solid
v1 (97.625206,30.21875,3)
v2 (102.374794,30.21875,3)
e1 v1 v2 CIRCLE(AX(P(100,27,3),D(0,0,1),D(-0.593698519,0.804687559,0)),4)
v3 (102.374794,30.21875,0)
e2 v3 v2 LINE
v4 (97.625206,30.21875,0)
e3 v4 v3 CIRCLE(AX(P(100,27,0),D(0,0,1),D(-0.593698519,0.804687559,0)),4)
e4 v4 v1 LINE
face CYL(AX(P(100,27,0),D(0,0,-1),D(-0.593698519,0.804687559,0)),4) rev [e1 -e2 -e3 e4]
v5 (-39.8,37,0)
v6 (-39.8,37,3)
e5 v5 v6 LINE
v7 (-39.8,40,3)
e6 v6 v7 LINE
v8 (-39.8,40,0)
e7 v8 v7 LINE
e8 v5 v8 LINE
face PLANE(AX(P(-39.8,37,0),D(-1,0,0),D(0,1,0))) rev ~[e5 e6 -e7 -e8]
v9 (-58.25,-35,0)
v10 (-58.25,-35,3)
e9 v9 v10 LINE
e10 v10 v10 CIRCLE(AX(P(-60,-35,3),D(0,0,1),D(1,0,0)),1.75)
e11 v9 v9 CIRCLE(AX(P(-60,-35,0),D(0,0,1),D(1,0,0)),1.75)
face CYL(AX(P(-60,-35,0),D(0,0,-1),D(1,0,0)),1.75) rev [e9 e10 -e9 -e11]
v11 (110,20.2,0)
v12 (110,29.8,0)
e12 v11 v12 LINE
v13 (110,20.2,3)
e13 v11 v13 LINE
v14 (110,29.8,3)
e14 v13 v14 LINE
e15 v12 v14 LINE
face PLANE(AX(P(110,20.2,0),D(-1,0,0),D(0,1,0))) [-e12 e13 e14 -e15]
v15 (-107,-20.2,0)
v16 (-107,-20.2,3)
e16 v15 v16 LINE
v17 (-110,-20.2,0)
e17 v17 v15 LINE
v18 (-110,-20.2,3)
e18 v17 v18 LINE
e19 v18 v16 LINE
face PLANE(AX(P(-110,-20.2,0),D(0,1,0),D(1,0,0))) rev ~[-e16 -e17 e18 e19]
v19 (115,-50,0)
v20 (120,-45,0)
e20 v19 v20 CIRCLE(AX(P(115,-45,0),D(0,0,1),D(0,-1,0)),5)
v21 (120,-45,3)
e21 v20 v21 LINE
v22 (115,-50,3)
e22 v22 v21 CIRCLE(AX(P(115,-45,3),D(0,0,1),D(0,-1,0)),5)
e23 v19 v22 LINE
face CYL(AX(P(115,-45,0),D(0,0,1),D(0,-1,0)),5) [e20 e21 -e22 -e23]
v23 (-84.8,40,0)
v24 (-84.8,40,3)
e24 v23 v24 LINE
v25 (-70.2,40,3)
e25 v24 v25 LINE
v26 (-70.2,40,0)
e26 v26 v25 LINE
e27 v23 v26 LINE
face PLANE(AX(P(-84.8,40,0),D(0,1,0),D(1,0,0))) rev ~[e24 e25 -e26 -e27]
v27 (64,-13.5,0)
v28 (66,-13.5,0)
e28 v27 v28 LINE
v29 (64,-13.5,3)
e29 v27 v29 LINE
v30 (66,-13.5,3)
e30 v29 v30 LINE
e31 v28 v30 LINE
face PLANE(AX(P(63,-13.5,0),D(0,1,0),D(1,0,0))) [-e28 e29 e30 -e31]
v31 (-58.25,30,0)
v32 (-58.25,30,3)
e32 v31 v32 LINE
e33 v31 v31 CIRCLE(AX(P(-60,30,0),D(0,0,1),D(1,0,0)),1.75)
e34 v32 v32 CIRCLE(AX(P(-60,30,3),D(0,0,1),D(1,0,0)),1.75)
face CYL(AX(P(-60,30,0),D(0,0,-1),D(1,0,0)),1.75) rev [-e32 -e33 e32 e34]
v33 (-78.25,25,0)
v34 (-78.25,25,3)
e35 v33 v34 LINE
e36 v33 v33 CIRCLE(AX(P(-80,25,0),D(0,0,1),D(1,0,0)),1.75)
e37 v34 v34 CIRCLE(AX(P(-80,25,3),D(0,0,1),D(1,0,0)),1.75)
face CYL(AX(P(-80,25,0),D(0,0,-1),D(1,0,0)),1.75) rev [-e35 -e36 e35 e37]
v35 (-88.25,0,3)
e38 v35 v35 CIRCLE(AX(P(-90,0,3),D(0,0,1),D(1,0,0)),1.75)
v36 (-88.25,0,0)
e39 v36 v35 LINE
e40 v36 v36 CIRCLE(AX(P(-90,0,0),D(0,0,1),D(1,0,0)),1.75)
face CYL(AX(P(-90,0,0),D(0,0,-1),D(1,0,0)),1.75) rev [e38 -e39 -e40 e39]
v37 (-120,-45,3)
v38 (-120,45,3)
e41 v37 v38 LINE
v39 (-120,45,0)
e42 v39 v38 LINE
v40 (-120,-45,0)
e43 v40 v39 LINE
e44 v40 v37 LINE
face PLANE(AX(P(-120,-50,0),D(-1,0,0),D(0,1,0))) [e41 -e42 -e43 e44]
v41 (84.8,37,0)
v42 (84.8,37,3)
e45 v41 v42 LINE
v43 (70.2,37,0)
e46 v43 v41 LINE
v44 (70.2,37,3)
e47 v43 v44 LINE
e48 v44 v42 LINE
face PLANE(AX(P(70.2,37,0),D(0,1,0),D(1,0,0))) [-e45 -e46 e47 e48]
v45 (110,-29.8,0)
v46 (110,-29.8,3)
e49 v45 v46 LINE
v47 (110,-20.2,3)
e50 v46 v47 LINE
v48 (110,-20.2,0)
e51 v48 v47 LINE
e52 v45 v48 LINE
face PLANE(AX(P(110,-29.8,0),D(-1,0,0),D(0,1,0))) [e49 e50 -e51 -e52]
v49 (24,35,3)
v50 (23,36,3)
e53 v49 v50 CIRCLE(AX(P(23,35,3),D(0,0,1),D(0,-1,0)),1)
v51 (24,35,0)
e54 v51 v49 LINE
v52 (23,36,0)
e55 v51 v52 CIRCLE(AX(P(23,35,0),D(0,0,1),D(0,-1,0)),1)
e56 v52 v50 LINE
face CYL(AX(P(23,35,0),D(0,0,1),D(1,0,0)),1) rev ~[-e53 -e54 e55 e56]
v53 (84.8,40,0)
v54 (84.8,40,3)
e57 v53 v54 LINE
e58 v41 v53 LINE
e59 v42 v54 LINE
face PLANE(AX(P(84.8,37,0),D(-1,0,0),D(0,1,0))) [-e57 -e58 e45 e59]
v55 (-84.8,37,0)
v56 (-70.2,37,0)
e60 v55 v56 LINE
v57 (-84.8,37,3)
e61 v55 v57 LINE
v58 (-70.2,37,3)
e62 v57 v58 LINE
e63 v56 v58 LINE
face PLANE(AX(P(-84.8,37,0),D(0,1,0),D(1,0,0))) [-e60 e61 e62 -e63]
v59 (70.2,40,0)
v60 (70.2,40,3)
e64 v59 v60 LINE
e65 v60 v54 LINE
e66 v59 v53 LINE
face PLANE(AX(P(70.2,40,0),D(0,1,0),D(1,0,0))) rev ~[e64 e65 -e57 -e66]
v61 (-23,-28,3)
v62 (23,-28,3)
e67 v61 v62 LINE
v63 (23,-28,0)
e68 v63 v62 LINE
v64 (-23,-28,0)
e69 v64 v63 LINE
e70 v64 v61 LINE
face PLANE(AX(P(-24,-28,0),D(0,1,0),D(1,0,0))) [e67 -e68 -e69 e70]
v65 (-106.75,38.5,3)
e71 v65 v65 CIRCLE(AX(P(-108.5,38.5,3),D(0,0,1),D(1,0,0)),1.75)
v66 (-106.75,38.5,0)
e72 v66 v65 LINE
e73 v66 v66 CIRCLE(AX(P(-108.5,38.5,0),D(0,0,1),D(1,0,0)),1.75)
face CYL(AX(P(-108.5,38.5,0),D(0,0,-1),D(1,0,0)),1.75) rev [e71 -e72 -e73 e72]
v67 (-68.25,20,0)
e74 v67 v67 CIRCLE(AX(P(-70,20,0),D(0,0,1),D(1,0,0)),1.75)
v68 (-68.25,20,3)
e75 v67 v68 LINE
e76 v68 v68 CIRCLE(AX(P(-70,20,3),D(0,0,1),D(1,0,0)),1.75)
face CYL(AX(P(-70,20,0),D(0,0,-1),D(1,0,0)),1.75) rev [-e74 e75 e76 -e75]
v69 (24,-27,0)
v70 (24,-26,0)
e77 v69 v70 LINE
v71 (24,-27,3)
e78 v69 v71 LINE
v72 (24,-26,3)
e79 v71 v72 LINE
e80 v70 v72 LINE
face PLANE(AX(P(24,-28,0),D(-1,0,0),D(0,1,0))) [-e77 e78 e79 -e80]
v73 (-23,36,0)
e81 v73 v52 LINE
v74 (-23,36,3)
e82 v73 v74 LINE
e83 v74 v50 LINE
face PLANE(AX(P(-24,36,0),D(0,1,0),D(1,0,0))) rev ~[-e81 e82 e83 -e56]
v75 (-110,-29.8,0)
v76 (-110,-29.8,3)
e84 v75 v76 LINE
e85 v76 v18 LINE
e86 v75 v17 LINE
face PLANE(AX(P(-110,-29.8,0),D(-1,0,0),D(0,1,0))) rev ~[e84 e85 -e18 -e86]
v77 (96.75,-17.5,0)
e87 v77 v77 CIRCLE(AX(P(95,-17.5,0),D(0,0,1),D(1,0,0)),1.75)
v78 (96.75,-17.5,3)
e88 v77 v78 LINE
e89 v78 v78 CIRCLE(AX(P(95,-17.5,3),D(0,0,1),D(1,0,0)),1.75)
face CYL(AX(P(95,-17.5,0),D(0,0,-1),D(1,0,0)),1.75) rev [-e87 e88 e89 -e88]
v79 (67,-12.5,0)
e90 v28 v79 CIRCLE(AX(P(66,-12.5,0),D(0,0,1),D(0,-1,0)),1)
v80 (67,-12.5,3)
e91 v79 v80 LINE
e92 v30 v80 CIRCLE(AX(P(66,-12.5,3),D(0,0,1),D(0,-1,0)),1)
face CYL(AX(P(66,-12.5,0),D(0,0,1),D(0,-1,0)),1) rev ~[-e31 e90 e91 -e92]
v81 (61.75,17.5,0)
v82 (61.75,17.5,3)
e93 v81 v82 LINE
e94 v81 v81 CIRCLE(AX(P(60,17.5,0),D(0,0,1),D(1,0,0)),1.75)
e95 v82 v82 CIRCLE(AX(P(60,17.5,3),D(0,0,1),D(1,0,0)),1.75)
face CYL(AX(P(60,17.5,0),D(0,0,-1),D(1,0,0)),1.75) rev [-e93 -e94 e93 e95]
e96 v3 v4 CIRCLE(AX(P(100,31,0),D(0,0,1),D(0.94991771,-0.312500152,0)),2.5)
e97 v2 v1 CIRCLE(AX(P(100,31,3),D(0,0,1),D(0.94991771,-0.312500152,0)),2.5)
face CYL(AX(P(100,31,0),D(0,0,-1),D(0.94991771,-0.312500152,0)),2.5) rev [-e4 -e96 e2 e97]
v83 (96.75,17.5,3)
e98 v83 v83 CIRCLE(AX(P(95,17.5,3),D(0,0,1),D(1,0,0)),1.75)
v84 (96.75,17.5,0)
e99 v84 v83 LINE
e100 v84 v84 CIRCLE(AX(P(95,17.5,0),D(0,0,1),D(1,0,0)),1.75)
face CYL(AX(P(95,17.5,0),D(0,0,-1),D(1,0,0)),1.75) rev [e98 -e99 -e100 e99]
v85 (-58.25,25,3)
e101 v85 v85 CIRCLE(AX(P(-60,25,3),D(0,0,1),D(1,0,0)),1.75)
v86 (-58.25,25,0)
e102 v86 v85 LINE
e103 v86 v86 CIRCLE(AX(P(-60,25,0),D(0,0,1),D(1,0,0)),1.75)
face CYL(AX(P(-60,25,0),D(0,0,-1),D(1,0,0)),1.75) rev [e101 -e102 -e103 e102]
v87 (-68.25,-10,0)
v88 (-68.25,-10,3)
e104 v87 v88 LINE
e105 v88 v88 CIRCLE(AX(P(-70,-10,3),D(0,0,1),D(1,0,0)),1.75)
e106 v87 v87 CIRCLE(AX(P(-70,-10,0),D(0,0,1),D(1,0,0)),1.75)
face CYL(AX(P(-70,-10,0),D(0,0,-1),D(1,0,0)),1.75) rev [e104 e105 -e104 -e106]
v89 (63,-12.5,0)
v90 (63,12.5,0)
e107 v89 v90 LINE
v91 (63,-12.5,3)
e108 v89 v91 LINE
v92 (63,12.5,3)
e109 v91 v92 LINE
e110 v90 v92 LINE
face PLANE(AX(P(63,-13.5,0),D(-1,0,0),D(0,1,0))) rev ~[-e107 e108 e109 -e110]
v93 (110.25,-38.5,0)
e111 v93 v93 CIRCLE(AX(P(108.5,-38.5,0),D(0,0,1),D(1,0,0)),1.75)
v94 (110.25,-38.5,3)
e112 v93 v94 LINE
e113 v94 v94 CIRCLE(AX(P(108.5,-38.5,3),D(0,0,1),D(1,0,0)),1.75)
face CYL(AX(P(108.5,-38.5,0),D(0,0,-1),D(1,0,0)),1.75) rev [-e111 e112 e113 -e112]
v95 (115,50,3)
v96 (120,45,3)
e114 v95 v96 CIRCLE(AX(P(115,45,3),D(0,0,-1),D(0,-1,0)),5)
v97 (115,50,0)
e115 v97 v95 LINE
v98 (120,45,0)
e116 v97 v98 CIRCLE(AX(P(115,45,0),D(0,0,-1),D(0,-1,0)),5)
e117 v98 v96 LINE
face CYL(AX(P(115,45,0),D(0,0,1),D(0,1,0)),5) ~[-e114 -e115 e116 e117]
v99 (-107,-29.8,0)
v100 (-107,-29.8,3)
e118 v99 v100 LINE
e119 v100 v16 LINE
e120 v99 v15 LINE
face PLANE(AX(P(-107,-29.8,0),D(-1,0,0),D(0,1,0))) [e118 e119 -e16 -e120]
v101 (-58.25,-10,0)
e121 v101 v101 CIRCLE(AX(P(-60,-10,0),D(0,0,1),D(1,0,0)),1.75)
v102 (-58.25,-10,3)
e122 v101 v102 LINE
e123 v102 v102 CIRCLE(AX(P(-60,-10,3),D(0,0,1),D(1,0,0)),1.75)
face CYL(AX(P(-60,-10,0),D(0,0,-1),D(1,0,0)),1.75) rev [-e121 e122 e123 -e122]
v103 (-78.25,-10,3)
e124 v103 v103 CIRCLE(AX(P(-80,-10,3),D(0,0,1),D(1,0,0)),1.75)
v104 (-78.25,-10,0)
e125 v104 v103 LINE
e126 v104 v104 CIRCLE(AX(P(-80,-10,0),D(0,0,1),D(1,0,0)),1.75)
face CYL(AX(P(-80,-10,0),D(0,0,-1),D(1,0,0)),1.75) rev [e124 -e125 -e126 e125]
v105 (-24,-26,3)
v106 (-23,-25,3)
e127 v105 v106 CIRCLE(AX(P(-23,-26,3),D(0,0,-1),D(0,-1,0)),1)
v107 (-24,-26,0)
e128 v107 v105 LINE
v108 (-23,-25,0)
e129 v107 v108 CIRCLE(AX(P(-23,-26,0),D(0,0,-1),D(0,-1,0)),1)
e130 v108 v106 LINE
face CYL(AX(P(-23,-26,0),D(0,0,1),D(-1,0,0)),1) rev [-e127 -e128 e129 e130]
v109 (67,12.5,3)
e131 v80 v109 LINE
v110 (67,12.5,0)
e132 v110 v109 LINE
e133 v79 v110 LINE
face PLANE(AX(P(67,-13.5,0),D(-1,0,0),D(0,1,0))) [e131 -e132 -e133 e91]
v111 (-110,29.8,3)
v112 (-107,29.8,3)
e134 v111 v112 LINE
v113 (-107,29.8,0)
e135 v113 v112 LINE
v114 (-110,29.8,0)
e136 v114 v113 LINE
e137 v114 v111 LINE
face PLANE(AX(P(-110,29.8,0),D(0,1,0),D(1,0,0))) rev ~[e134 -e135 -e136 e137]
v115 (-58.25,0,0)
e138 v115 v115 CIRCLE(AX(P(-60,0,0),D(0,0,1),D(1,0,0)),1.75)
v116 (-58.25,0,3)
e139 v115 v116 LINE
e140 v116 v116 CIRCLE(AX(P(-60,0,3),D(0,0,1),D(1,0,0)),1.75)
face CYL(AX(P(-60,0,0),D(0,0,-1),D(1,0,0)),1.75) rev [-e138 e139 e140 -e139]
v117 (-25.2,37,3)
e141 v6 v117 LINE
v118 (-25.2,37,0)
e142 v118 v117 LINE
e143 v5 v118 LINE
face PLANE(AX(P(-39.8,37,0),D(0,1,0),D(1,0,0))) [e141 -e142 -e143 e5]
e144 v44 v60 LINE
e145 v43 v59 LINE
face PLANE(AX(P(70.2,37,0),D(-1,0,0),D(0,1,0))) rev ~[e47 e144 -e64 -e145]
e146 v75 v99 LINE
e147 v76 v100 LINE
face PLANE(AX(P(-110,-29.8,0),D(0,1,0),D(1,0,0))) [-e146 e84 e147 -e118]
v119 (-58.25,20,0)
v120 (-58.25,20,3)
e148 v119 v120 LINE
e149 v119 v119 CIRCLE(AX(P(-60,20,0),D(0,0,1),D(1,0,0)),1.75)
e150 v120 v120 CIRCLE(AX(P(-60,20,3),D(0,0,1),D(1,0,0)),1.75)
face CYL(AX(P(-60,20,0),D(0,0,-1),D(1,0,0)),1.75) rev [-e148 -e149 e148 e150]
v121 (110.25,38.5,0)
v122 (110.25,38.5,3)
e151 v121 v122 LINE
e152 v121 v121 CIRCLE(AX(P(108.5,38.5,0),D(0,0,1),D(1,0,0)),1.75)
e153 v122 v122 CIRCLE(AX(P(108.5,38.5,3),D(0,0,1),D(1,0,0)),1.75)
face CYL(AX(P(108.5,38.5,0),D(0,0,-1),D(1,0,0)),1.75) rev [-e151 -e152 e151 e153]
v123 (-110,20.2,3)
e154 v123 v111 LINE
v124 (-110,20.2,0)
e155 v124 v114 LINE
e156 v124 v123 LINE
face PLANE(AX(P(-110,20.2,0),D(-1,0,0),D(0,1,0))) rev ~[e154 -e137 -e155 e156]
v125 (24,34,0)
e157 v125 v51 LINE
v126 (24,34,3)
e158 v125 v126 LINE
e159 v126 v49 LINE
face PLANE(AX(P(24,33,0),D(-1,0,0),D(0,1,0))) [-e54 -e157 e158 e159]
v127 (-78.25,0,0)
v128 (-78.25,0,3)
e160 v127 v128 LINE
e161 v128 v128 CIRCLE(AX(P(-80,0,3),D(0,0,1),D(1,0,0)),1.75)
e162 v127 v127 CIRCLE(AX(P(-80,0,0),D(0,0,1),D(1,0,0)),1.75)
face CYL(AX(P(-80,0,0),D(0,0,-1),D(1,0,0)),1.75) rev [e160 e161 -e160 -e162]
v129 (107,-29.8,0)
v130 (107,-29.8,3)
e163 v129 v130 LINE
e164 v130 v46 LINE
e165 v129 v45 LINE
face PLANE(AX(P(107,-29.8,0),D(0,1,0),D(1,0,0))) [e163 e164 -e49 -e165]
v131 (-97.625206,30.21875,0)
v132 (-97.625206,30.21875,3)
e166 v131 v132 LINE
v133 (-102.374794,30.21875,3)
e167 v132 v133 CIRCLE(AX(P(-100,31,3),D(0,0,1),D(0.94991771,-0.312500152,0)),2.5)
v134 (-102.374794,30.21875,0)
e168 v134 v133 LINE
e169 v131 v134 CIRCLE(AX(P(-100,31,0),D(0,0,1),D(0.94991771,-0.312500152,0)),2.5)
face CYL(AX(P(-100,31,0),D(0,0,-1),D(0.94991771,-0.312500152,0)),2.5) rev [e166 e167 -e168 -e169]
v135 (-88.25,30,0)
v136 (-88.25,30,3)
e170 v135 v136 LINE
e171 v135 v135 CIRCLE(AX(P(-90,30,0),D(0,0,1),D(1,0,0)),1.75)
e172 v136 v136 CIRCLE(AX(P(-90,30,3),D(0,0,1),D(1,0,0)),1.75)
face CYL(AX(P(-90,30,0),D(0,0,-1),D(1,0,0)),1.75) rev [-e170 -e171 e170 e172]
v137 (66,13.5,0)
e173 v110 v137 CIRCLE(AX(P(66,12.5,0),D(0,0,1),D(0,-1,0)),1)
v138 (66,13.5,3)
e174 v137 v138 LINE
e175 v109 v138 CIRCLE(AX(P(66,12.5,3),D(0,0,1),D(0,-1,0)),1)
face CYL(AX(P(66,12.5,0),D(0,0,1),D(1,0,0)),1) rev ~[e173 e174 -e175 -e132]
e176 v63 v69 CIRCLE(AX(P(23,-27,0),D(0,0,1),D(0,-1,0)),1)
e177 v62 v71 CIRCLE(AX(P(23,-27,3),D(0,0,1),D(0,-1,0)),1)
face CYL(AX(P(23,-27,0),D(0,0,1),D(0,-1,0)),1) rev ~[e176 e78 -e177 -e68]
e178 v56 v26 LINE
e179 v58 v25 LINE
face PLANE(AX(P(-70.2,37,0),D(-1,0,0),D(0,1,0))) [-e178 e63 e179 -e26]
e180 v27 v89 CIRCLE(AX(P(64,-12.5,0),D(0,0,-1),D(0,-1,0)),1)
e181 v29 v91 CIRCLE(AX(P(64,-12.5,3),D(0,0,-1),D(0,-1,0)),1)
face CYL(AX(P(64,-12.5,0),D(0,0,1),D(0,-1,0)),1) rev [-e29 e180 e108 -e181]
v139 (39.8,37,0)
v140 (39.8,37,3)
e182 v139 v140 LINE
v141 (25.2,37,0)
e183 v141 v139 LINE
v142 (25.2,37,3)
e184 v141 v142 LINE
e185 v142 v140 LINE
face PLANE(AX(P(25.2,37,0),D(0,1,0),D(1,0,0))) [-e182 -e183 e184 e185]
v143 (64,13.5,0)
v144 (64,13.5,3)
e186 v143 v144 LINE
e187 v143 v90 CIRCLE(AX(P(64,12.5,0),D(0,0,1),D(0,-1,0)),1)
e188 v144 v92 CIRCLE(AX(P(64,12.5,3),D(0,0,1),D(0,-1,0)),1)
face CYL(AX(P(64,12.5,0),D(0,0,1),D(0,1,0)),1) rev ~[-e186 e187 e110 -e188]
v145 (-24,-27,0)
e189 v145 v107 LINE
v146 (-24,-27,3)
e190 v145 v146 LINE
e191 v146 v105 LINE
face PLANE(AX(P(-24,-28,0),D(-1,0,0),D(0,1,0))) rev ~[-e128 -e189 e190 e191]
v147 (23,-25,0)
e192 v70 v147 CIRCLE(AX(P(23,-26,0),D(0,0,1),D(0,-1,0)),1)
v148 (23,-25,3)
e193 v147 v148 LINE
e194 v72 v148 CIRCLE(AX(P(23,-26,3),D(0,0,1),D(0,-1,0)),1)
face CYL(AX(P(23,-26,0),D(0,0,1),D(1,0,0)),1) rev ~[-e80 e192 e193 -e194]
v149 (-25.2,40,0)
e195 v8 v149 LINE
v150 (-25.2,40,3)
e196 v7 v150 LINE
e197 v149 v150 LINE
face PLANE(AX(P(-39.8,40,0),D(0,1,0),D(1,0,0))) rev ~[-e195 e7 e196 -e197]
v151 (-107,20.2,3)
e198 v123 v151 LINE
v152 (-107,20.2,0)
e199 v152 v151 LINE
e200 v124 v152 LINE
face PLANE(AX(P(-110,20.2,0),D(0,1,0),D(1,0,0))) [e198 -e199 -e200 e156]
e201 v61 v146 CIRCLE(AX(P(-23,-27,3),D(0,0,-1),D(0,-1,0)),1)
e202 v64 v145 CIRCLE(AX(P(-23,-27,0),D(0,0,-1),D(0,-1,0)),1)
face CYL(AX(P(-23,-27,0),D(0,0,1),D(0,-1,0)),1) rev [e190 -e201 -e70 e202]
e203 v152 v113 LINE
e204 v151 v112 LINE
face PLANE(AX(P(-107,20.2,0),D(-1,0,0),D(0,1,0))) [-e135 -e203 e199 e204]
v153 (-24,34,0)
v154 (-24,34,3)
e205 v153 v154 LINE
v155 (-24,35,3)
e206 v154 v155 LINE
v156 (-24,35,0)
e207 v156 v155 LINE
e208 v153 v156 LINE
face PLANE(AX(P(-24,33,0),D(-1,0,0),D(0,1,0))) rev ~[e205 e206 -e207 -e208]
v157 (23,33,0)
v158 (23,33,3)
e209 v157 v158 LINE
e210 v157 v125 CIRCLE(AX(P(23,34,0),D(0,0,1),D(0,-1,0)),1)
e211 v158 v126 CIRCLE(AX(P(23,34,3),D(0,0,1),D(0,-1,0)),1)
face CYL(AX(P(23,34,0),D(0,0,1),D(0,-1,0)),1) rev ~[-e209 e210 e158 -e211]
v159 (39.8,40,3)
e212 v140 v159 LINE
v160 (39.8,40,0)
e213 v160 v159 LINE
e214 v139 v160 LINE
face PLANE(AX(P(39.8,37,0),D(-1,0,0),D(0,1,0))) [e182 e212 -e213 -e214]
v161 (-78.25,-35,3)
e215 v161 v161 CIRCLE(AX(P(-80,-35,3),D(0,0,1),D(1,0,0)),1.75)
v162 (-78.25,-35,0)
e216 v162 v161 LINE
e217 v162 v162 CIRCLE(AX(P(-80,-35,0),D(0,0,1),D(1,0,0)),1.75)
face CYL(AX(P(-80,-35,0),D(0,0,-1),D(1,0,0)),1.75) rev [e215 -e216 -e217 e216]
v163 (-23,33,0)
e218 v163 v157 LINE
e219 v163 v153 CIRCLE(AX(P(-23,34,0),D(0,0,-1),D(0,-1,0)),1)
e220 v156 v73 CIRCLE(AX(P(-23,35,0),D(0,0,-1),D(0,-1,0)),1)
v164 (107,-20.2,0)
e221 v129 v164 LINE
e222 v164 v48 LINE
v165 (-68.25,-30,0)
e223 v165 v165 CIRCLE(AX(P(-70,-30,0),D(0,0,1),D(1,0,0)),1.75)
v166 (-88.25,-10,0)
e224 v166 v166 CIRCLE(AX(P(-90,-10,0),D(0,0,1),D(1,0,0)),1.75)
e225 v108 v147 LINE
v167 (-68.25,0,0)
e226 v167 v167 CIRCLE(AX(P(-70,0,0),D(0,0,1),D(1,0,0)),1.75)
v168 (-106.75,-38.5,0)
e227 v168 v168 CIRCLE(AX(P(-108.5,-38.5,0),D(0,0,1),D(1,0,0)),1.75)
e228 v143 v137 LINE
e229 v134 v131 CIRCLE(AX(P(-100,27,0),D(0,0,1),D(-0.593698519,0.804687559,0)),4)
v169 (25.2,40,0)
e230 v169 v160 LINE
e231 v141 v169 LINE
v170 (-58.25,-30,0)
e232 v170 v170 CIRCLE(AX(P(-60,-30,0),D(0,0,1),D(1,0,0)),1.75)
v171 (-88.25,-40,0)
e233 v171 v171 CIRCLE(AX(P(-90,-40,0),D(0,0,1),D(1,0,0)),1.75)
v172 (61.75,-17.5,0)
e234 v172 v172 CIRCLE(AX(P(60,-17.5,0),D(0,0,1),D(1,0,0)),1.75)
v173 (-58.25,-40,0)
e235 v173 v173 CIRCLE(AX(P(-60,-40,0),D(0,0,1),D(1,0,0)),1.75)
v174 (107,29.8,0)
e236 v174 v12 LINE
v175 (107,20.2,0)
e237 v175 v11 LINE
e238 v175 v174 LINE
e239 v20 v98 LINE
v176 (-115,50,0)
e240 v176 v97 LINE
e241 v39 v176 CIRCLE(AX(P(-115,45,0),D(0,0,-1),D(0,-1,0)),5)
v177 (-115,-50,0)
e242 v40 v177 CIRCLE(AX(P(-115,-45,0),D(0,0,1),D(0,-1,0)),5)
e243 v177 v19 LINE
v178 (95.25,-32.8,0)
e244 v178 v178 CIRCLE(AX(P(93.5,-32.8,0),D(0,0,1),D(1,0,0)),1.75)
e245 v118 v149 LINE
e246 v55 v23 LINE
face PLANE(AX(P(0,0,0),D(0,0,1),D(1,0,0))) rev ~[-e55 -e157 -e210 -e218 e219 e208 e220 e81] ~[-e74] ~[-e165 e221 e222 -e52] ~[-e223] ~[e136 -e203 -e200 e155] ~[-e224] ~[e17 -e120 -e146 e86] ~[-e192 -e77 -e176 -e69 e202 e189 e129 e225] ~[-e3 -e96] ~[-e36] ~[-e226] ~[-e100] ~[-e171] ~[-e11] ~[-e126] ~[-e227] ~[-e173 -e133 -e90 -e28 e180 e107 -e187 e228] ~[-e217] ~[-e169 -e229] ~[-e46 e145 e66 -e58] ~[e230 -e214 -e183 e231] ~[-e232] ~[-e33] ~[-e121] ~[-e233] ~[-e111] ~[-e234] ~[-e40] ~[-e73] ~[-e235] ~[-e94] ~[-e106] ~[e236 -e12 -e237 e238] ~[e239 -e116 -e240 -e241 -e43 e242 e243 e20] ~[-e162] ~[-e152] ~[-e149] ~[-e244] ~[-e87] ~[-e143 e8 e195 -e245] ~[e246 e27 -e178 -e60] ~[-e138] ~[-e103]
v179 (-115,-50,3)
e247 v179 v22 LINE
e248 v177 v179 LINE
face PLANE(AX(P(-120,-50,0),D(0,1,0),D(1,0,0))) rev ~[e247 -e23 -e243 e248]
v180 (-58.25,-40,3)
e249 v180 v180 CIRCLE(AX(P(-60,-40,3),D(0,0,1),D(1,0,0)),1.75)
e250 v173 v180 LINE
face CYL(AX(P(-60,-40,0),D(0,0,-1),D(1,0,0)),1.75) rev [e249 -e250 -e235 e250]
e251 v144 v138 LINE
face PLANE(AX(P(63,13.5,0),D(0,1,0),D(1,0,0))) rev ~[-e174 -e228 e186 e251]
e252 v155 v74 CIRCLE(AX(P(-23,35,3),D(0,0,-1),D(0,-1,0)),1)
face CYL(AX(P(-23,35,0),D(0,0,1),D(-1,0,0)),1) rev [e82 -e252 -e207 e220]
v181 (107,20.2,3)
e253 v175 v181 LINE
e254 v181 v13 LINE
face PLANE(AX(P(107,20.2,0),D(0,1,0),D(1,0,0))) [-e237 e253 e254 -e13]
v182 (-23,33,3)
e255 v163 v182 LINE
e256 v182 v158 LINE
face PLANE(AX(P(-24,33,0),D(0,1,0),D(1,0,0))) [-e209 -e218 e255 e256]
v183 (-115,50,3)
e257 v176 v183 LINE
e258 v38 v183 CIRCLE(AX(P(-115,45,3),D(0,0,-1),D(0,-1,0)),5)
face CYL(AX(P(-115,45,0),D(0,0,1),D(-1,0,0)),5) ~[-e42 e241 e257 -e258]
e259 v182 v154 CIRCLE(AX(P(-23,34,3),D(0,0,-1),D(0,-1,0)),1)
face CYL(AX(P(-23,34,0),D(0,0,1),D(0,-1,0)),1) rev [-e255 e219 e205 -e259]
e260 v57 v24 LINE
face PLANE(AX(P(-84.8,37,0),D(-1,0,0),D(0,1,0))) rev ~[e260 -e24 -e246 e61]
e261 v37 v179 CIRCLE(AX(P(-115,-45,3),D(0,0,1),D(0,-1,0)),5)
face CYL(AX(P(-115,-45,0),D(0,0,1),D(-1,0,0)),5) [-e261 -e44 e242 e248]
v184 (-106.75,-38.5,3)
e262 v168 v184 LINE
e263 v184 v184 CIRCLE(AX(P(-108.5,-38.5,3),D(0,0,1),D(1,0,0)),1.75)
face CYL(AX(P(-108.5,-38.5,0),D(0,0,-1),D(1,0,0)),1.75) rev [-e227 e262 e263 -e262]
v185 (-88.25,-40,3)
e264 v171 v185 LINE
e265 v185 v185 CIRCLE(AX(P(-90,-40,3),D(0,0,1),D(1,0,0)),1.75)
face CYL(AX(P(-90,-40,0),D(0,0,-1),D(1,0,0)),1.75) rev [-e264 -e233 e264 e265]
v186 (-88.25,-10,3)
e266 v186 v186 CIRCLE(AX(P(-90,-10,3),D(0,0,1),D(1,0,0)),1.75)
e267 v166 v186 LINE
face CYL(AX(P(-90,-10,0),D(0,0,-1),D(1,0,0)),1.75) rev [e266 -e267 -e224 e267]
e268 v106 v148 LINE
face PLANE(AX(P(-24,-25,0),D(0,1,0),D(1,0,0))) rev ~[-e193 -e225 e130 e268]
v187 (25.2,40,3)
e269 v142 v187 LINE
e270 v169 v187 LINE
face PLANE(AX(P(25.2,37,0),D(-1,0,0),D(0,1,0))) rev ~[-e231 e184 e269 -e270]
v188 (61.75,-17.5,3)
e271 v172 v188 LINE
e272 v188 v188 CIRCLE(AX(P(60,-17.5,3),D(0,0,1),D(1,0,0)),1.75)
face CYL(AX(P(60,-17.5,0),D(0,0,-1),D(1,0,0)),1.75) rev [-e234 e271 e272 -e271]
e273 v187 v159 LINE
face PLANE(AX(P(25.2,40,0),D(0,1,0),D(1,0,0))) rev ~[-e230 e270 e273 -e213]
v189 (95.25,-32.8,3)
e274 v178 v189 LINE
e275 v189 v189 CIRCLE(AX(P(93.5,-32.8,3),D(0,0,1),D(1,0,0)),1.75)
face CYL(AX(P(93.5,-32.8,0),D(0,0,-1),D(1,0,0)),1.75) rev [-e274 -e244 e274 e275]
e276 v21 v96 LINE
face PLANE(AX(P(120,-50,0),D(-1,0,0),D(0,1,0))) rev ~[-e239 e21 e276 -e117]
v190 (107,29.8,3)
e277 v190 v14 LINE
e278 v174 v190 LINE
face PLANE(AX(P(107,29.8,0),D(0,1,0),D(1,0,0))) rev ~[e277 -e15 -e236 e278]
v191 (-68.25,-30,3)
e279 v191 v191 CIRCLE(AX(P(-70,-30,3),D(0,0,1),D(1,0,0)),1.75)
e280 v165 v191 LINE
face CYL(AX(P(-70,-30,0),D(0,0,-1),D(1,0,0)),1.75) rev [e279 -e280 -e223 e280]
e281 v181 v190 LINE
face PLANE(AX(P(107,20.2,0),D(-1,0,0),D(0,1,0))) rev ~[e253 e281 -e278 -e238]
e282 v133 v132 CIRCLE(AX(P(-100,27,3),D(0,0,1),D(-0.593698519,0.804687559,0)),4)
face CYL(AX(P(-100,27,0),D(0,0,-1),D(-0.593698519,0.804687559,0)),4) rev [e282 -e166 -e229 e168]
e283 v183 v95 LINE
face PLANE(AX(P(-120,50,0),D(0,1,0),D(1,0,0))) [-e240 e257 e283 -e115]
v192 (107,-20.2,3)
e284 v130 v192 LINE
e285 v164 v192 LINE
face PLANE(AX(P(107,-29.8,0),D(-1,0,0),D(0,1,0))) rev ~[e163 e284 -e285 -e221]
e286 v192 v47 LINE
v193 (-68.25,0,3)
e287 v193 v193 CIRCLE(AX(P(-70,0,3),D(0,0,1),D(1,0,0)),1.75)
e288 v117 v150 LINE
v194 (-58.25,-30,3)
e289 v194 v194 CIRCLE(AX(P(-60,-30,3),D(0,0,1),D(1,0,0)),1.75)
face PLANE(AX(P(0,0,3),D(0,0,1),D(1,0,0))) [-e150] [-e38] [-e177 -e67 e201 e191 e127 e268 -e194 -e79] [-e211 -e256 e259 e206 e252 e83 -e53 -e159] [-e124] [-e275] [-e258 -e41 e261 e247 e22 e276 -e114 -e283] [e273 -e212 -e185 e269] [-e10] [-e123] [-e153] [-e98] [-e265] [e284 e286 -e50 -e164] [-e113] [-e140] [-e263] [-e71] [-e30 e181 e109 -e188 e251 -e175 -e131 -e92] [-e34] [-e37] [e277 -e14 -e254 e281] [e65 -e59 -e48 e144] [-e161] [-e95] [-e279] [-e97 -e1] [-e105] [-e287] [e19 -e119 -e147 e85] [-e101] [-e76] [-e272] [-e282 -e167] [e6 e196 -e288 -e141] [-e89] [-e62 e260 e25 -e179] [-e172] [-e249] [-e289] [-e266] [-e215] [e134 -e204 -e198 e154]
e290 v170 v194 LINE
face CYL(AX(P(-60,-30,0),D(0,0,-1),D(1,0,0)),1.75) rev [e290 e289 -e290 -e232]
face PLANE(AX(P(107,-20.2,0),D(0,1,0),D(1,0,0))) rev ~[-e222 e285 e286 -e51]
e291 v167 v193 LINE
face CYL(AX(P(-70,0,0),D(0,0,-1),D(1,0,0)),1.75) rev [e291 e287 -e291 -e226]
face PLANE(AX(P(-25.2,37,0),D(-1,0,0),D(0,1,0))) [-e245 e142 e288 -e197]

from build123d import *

# Parameters (mm, degrees)
SKETCH004_R      = 1.75
SKETCH004_W      = 4
SKETCH004_H      = 27
PAD_DEPTH        = 3
PAD006_DEPTH     = 3
PAD007_DEPTH     = 3
SKETCH_R         = 1.75
PAD008_DEPTH     = 3
SKETCH003007_R   = 1.75
PAD010_DEPTH     = 3
SKETCH002_W      = 48
SKETCH002_H      = 3
PAD003_DEPTH     = 3
SKETCH003004_R   = 1.75
PAD009_DEPTH     = 3
SKETCH003003_W   = 240
SKETCH003003_H   = 100
SKETCH003003_R   = 1.75
SKETCH003003_W_2 = 3
SKETCH003003_H_2 = 9.6
SKETCH003003_W_3 = 14.6
SKETCH003003_H_3 = 3
PAD001_DEPTH     = 3
FILLET_R         = 5
FILLET001_R      = 1


with BuildPart() as pad:
    # Sketch004 → Pad (new body)
    with BuildSketch(Plane.XY):
        with Locations((60, -17.5)):
            Circle(SKETCH004_R)
        with Locations((60, 17.5)):
            Circle(SKETCH004_R)
        with Locations((95, 17.5)):
            Circle(SKETCH004_R)
        with Locations((95, -17.5)):
            Circle(SKETCH004_R)
        with Locations((65, 0)):
            Rectangle(SKETCH004_W, SKETCH004_H)
    extrude(amount=PAD_DEPTH)


with BuildPart() as pad006:
    # Sketch003006 → Pad006 (new body)
    with BuildSketch(Plane.XY):
        with BuildLine():
            ThreePointArc((97.625206, 30.21875), (100, 23), (102.374794, 30.21875))
            ThreePointArc((102.374794, 30.21875), (100, 33.5), (97.625206, 30.21875))
        make_face()
    extrude(amount=PAD006_DEPTH)


with BuildPart() as pad007:
    # Sketch003005 → Pad007 (new body)
    with BuildSketch(Plane.XY):
        with BuildLine():
            ThreePointArc((-102.374794, 30.21875), (-100, 23), (-97.625206, 30.21875))
            ThreePointArc((-97.625206, 30.21875), (-100, 33.5), (-102.374794, 30.21875))
        make_face()
    extrude(amount=PAD007_DEPTH)


with BuildPart() as pad008:
    # Sketch → Pad008 (new body)
    with BuildSketch(Plane.XY):
        with Locations((-90, 30)):
            Circle(SKETCH_R)
        with Locations((-60, 30)):
            Circle(SKETCH_R)
        with Locations((-90, 0)):
            Circle(SKETCH_R)
        with Locations((-60, 0)):
            Circle(SKETCH_R)
        with Locations((-80, 0)):
            Circle(SKETCH_R)
        with Locations((-80, 25)):
            Circle(SKETCH_R)
        with Locations((-60, 25)):
            Circle(SKETCH_R)
        with Locations((-70, 0)):
            Circle(SKETCH_R)
        with Locations((-70, 20)):
            Circle(SKETCH_R)
        with Locations((-60, 20)):
            Circle(SKETCH_R)
    extrude(amount=PAD008_DEPTH)


with BuildPart() as pad010:
    # Sketch003007 → Pad010 (new body)
    with BuildSketch(Plane.XY):
        with Locations((-108.5, 38.5)):
            Circle(SKETCH003007_R)
        with Locations((-108.5, -38.5)):
            Circle(SKETCH003007_R)
        with Locations((108.5, -38.5)):
            Circle(SKETCH003007_R)
        with Locations((108.5, 38.5)):
            Circle(SKETCH003007_R)
    extrude(amount=PAD010_DEPTH)


with BuildPart() as pad003:
    # Sketch002 → Pad003 (new body)
    with BuildSketch(Plane.XY):
        with Locations((0, 34.5)):
            Rectangle(SKETCH002_W, SKETCH002_H)
        with Locations((0, -26.5)):
            Rectangle(SKETCH002_W, SKETCH002_H)
    extrude(amount=PAD003_DEPTH)


with BuildPart() as pad009:
    # Sketch003004 → Pad009 (new body)
    with BuildSketch(Plane.XY):
        with Locations((-90, -40)):
            Circle(SKETCH003004_R)
        with Locations((-60, -40)):
            Circle(SKETCH003004_R)
        with Locations((-90, -10)):
            Circle(SKETCH003004_R)
        with Locations((-60, -10)):
            Circle(SKETCH003004_R)
        with Locations((-80, -10)):
            Circle(SKETCH003004_R)
        with Locations((-80, -35)):
            Circle(SKETCH003004_R)
        with Locations((-60, -35)):
            Circle(SKETCH003004_R)
        with Locations((-70, -10)):
            Circle(SKETCH003004_R)
        with Locations((-70, -30)):
            Circle(SKETCH003004_R)
        with Locations((-60, -30)):
            Circle(SKETCH003004_R)
    extrude(amount=PAD009_DEPTH)


with BuildPart() as fillet001:
    # Sketch003003 → Pad001 (new body)
    with BuildSketch(Plane.XY):
        Rectangle(SKETCH003003_W, SKETCH003003_H)
        with Locations((93.5, -32.8)):
            Circle(SKETCH003003_R, mode=Mode.SUBTRACT)
        with Locations((108.5, -25)):
            Rectangle(SKETCH003003_W_2, SKETCH003003_H_2, mode=Mode.SUBTRACT)
        with Locations((108.5, 25)):
            Rectangle(SKETCH003003_W_2, SKETCH003003_H_2, mode=Mode.SUBTRACT)
        with Locations((-108.5, 25)):
            Rectangle(SKETCH003003_W_2, SKETCH003003_H_2, mode=Mode.SUBTRACT)
        with Locations((-108.5, -25)):
            Rectangle(SKETCH003003_W_2, SKETCH003003_H_2, mode=Mode.SUBTRACT)
        with Locations((-77.5, 38.5)):
            Rectangle(SKETCH003003_W_3, SKETCH003003_H_3, mode=Mode.SUBTRACT)
        with Locations((-32.5, 38.5)):
            Rectangle(SKETCH003003_W_3, SKETCH003003_H_3, mode=Mode.SUBTRACT)
        with Locations((32.5, 38.5)):
            Rectangle(SKETCH003003_W_3, SKETCH003003_H_3, mode=Mode.SUBTRACT)
        with Locations((77.5, 38.5)):
            Rectangle(SKETCH003003_W_3, SKETCH003003_H_3, mode=Mode.SUBTRACT)
    extrude(amount=PAD001_DEPTH)

    # Cut: cut Pad009
    add(pad009.part, mode=Mode.SUBTRACT)

    # Cut001: cut Pad003
    add(pad003.part, mode=Mode.SUBTRACT)

    # Cut002: cut Pad010
    add(pad010.part, mode=Mode.SUBTRACT)

    # Cut003: cut Pad008
    add(pad008.part, mode=Mode.SUBTRACT)

    # Cut004: cut Pad007
    add(pad007.part, mode=Mode.SUBTRACT)

    # Cut005: cut Pad006
    add(pad006.part, mode=Mode.SUBTRACT)

    # Cut006: cut Pad
    add(pad.part, mode=Mode.SUBTRACT)

    # Fillet
    fillet_edges = [fillet001.edges().sort_by_distance(p)[0] for p in [
        (-120, 50, 1.5),
        (120, 50, 1.5),
        (-120, -50, 1.5),
        (120, -50, 1.5),
    ]]
    fillet(fillet_edges, radius=FILLET_R)

    # Fillet001
    fillet001_edges = [fillet001.edges().sort_by_distance(p)[0] for p in [
        (-24, -28, 1.5),
        (-24, -25, 1.5),
        (24, -28, 1.5),
        (24, -25, 1.5),
        (-24, 33, 1.5),
        (-24, 36, 1.5),
        (24, 33, 1.5),
        (24, 36, 1.5),
        (63, -13.5, 1.5),
        (63, 13.5, 1.5),
        (67, -13.5, 1.5),
        (67, 13.5, 1.5),
    ]]
    fillet(fillet001_edges, radius=FILLET001_R)


solid = fillet001.part
